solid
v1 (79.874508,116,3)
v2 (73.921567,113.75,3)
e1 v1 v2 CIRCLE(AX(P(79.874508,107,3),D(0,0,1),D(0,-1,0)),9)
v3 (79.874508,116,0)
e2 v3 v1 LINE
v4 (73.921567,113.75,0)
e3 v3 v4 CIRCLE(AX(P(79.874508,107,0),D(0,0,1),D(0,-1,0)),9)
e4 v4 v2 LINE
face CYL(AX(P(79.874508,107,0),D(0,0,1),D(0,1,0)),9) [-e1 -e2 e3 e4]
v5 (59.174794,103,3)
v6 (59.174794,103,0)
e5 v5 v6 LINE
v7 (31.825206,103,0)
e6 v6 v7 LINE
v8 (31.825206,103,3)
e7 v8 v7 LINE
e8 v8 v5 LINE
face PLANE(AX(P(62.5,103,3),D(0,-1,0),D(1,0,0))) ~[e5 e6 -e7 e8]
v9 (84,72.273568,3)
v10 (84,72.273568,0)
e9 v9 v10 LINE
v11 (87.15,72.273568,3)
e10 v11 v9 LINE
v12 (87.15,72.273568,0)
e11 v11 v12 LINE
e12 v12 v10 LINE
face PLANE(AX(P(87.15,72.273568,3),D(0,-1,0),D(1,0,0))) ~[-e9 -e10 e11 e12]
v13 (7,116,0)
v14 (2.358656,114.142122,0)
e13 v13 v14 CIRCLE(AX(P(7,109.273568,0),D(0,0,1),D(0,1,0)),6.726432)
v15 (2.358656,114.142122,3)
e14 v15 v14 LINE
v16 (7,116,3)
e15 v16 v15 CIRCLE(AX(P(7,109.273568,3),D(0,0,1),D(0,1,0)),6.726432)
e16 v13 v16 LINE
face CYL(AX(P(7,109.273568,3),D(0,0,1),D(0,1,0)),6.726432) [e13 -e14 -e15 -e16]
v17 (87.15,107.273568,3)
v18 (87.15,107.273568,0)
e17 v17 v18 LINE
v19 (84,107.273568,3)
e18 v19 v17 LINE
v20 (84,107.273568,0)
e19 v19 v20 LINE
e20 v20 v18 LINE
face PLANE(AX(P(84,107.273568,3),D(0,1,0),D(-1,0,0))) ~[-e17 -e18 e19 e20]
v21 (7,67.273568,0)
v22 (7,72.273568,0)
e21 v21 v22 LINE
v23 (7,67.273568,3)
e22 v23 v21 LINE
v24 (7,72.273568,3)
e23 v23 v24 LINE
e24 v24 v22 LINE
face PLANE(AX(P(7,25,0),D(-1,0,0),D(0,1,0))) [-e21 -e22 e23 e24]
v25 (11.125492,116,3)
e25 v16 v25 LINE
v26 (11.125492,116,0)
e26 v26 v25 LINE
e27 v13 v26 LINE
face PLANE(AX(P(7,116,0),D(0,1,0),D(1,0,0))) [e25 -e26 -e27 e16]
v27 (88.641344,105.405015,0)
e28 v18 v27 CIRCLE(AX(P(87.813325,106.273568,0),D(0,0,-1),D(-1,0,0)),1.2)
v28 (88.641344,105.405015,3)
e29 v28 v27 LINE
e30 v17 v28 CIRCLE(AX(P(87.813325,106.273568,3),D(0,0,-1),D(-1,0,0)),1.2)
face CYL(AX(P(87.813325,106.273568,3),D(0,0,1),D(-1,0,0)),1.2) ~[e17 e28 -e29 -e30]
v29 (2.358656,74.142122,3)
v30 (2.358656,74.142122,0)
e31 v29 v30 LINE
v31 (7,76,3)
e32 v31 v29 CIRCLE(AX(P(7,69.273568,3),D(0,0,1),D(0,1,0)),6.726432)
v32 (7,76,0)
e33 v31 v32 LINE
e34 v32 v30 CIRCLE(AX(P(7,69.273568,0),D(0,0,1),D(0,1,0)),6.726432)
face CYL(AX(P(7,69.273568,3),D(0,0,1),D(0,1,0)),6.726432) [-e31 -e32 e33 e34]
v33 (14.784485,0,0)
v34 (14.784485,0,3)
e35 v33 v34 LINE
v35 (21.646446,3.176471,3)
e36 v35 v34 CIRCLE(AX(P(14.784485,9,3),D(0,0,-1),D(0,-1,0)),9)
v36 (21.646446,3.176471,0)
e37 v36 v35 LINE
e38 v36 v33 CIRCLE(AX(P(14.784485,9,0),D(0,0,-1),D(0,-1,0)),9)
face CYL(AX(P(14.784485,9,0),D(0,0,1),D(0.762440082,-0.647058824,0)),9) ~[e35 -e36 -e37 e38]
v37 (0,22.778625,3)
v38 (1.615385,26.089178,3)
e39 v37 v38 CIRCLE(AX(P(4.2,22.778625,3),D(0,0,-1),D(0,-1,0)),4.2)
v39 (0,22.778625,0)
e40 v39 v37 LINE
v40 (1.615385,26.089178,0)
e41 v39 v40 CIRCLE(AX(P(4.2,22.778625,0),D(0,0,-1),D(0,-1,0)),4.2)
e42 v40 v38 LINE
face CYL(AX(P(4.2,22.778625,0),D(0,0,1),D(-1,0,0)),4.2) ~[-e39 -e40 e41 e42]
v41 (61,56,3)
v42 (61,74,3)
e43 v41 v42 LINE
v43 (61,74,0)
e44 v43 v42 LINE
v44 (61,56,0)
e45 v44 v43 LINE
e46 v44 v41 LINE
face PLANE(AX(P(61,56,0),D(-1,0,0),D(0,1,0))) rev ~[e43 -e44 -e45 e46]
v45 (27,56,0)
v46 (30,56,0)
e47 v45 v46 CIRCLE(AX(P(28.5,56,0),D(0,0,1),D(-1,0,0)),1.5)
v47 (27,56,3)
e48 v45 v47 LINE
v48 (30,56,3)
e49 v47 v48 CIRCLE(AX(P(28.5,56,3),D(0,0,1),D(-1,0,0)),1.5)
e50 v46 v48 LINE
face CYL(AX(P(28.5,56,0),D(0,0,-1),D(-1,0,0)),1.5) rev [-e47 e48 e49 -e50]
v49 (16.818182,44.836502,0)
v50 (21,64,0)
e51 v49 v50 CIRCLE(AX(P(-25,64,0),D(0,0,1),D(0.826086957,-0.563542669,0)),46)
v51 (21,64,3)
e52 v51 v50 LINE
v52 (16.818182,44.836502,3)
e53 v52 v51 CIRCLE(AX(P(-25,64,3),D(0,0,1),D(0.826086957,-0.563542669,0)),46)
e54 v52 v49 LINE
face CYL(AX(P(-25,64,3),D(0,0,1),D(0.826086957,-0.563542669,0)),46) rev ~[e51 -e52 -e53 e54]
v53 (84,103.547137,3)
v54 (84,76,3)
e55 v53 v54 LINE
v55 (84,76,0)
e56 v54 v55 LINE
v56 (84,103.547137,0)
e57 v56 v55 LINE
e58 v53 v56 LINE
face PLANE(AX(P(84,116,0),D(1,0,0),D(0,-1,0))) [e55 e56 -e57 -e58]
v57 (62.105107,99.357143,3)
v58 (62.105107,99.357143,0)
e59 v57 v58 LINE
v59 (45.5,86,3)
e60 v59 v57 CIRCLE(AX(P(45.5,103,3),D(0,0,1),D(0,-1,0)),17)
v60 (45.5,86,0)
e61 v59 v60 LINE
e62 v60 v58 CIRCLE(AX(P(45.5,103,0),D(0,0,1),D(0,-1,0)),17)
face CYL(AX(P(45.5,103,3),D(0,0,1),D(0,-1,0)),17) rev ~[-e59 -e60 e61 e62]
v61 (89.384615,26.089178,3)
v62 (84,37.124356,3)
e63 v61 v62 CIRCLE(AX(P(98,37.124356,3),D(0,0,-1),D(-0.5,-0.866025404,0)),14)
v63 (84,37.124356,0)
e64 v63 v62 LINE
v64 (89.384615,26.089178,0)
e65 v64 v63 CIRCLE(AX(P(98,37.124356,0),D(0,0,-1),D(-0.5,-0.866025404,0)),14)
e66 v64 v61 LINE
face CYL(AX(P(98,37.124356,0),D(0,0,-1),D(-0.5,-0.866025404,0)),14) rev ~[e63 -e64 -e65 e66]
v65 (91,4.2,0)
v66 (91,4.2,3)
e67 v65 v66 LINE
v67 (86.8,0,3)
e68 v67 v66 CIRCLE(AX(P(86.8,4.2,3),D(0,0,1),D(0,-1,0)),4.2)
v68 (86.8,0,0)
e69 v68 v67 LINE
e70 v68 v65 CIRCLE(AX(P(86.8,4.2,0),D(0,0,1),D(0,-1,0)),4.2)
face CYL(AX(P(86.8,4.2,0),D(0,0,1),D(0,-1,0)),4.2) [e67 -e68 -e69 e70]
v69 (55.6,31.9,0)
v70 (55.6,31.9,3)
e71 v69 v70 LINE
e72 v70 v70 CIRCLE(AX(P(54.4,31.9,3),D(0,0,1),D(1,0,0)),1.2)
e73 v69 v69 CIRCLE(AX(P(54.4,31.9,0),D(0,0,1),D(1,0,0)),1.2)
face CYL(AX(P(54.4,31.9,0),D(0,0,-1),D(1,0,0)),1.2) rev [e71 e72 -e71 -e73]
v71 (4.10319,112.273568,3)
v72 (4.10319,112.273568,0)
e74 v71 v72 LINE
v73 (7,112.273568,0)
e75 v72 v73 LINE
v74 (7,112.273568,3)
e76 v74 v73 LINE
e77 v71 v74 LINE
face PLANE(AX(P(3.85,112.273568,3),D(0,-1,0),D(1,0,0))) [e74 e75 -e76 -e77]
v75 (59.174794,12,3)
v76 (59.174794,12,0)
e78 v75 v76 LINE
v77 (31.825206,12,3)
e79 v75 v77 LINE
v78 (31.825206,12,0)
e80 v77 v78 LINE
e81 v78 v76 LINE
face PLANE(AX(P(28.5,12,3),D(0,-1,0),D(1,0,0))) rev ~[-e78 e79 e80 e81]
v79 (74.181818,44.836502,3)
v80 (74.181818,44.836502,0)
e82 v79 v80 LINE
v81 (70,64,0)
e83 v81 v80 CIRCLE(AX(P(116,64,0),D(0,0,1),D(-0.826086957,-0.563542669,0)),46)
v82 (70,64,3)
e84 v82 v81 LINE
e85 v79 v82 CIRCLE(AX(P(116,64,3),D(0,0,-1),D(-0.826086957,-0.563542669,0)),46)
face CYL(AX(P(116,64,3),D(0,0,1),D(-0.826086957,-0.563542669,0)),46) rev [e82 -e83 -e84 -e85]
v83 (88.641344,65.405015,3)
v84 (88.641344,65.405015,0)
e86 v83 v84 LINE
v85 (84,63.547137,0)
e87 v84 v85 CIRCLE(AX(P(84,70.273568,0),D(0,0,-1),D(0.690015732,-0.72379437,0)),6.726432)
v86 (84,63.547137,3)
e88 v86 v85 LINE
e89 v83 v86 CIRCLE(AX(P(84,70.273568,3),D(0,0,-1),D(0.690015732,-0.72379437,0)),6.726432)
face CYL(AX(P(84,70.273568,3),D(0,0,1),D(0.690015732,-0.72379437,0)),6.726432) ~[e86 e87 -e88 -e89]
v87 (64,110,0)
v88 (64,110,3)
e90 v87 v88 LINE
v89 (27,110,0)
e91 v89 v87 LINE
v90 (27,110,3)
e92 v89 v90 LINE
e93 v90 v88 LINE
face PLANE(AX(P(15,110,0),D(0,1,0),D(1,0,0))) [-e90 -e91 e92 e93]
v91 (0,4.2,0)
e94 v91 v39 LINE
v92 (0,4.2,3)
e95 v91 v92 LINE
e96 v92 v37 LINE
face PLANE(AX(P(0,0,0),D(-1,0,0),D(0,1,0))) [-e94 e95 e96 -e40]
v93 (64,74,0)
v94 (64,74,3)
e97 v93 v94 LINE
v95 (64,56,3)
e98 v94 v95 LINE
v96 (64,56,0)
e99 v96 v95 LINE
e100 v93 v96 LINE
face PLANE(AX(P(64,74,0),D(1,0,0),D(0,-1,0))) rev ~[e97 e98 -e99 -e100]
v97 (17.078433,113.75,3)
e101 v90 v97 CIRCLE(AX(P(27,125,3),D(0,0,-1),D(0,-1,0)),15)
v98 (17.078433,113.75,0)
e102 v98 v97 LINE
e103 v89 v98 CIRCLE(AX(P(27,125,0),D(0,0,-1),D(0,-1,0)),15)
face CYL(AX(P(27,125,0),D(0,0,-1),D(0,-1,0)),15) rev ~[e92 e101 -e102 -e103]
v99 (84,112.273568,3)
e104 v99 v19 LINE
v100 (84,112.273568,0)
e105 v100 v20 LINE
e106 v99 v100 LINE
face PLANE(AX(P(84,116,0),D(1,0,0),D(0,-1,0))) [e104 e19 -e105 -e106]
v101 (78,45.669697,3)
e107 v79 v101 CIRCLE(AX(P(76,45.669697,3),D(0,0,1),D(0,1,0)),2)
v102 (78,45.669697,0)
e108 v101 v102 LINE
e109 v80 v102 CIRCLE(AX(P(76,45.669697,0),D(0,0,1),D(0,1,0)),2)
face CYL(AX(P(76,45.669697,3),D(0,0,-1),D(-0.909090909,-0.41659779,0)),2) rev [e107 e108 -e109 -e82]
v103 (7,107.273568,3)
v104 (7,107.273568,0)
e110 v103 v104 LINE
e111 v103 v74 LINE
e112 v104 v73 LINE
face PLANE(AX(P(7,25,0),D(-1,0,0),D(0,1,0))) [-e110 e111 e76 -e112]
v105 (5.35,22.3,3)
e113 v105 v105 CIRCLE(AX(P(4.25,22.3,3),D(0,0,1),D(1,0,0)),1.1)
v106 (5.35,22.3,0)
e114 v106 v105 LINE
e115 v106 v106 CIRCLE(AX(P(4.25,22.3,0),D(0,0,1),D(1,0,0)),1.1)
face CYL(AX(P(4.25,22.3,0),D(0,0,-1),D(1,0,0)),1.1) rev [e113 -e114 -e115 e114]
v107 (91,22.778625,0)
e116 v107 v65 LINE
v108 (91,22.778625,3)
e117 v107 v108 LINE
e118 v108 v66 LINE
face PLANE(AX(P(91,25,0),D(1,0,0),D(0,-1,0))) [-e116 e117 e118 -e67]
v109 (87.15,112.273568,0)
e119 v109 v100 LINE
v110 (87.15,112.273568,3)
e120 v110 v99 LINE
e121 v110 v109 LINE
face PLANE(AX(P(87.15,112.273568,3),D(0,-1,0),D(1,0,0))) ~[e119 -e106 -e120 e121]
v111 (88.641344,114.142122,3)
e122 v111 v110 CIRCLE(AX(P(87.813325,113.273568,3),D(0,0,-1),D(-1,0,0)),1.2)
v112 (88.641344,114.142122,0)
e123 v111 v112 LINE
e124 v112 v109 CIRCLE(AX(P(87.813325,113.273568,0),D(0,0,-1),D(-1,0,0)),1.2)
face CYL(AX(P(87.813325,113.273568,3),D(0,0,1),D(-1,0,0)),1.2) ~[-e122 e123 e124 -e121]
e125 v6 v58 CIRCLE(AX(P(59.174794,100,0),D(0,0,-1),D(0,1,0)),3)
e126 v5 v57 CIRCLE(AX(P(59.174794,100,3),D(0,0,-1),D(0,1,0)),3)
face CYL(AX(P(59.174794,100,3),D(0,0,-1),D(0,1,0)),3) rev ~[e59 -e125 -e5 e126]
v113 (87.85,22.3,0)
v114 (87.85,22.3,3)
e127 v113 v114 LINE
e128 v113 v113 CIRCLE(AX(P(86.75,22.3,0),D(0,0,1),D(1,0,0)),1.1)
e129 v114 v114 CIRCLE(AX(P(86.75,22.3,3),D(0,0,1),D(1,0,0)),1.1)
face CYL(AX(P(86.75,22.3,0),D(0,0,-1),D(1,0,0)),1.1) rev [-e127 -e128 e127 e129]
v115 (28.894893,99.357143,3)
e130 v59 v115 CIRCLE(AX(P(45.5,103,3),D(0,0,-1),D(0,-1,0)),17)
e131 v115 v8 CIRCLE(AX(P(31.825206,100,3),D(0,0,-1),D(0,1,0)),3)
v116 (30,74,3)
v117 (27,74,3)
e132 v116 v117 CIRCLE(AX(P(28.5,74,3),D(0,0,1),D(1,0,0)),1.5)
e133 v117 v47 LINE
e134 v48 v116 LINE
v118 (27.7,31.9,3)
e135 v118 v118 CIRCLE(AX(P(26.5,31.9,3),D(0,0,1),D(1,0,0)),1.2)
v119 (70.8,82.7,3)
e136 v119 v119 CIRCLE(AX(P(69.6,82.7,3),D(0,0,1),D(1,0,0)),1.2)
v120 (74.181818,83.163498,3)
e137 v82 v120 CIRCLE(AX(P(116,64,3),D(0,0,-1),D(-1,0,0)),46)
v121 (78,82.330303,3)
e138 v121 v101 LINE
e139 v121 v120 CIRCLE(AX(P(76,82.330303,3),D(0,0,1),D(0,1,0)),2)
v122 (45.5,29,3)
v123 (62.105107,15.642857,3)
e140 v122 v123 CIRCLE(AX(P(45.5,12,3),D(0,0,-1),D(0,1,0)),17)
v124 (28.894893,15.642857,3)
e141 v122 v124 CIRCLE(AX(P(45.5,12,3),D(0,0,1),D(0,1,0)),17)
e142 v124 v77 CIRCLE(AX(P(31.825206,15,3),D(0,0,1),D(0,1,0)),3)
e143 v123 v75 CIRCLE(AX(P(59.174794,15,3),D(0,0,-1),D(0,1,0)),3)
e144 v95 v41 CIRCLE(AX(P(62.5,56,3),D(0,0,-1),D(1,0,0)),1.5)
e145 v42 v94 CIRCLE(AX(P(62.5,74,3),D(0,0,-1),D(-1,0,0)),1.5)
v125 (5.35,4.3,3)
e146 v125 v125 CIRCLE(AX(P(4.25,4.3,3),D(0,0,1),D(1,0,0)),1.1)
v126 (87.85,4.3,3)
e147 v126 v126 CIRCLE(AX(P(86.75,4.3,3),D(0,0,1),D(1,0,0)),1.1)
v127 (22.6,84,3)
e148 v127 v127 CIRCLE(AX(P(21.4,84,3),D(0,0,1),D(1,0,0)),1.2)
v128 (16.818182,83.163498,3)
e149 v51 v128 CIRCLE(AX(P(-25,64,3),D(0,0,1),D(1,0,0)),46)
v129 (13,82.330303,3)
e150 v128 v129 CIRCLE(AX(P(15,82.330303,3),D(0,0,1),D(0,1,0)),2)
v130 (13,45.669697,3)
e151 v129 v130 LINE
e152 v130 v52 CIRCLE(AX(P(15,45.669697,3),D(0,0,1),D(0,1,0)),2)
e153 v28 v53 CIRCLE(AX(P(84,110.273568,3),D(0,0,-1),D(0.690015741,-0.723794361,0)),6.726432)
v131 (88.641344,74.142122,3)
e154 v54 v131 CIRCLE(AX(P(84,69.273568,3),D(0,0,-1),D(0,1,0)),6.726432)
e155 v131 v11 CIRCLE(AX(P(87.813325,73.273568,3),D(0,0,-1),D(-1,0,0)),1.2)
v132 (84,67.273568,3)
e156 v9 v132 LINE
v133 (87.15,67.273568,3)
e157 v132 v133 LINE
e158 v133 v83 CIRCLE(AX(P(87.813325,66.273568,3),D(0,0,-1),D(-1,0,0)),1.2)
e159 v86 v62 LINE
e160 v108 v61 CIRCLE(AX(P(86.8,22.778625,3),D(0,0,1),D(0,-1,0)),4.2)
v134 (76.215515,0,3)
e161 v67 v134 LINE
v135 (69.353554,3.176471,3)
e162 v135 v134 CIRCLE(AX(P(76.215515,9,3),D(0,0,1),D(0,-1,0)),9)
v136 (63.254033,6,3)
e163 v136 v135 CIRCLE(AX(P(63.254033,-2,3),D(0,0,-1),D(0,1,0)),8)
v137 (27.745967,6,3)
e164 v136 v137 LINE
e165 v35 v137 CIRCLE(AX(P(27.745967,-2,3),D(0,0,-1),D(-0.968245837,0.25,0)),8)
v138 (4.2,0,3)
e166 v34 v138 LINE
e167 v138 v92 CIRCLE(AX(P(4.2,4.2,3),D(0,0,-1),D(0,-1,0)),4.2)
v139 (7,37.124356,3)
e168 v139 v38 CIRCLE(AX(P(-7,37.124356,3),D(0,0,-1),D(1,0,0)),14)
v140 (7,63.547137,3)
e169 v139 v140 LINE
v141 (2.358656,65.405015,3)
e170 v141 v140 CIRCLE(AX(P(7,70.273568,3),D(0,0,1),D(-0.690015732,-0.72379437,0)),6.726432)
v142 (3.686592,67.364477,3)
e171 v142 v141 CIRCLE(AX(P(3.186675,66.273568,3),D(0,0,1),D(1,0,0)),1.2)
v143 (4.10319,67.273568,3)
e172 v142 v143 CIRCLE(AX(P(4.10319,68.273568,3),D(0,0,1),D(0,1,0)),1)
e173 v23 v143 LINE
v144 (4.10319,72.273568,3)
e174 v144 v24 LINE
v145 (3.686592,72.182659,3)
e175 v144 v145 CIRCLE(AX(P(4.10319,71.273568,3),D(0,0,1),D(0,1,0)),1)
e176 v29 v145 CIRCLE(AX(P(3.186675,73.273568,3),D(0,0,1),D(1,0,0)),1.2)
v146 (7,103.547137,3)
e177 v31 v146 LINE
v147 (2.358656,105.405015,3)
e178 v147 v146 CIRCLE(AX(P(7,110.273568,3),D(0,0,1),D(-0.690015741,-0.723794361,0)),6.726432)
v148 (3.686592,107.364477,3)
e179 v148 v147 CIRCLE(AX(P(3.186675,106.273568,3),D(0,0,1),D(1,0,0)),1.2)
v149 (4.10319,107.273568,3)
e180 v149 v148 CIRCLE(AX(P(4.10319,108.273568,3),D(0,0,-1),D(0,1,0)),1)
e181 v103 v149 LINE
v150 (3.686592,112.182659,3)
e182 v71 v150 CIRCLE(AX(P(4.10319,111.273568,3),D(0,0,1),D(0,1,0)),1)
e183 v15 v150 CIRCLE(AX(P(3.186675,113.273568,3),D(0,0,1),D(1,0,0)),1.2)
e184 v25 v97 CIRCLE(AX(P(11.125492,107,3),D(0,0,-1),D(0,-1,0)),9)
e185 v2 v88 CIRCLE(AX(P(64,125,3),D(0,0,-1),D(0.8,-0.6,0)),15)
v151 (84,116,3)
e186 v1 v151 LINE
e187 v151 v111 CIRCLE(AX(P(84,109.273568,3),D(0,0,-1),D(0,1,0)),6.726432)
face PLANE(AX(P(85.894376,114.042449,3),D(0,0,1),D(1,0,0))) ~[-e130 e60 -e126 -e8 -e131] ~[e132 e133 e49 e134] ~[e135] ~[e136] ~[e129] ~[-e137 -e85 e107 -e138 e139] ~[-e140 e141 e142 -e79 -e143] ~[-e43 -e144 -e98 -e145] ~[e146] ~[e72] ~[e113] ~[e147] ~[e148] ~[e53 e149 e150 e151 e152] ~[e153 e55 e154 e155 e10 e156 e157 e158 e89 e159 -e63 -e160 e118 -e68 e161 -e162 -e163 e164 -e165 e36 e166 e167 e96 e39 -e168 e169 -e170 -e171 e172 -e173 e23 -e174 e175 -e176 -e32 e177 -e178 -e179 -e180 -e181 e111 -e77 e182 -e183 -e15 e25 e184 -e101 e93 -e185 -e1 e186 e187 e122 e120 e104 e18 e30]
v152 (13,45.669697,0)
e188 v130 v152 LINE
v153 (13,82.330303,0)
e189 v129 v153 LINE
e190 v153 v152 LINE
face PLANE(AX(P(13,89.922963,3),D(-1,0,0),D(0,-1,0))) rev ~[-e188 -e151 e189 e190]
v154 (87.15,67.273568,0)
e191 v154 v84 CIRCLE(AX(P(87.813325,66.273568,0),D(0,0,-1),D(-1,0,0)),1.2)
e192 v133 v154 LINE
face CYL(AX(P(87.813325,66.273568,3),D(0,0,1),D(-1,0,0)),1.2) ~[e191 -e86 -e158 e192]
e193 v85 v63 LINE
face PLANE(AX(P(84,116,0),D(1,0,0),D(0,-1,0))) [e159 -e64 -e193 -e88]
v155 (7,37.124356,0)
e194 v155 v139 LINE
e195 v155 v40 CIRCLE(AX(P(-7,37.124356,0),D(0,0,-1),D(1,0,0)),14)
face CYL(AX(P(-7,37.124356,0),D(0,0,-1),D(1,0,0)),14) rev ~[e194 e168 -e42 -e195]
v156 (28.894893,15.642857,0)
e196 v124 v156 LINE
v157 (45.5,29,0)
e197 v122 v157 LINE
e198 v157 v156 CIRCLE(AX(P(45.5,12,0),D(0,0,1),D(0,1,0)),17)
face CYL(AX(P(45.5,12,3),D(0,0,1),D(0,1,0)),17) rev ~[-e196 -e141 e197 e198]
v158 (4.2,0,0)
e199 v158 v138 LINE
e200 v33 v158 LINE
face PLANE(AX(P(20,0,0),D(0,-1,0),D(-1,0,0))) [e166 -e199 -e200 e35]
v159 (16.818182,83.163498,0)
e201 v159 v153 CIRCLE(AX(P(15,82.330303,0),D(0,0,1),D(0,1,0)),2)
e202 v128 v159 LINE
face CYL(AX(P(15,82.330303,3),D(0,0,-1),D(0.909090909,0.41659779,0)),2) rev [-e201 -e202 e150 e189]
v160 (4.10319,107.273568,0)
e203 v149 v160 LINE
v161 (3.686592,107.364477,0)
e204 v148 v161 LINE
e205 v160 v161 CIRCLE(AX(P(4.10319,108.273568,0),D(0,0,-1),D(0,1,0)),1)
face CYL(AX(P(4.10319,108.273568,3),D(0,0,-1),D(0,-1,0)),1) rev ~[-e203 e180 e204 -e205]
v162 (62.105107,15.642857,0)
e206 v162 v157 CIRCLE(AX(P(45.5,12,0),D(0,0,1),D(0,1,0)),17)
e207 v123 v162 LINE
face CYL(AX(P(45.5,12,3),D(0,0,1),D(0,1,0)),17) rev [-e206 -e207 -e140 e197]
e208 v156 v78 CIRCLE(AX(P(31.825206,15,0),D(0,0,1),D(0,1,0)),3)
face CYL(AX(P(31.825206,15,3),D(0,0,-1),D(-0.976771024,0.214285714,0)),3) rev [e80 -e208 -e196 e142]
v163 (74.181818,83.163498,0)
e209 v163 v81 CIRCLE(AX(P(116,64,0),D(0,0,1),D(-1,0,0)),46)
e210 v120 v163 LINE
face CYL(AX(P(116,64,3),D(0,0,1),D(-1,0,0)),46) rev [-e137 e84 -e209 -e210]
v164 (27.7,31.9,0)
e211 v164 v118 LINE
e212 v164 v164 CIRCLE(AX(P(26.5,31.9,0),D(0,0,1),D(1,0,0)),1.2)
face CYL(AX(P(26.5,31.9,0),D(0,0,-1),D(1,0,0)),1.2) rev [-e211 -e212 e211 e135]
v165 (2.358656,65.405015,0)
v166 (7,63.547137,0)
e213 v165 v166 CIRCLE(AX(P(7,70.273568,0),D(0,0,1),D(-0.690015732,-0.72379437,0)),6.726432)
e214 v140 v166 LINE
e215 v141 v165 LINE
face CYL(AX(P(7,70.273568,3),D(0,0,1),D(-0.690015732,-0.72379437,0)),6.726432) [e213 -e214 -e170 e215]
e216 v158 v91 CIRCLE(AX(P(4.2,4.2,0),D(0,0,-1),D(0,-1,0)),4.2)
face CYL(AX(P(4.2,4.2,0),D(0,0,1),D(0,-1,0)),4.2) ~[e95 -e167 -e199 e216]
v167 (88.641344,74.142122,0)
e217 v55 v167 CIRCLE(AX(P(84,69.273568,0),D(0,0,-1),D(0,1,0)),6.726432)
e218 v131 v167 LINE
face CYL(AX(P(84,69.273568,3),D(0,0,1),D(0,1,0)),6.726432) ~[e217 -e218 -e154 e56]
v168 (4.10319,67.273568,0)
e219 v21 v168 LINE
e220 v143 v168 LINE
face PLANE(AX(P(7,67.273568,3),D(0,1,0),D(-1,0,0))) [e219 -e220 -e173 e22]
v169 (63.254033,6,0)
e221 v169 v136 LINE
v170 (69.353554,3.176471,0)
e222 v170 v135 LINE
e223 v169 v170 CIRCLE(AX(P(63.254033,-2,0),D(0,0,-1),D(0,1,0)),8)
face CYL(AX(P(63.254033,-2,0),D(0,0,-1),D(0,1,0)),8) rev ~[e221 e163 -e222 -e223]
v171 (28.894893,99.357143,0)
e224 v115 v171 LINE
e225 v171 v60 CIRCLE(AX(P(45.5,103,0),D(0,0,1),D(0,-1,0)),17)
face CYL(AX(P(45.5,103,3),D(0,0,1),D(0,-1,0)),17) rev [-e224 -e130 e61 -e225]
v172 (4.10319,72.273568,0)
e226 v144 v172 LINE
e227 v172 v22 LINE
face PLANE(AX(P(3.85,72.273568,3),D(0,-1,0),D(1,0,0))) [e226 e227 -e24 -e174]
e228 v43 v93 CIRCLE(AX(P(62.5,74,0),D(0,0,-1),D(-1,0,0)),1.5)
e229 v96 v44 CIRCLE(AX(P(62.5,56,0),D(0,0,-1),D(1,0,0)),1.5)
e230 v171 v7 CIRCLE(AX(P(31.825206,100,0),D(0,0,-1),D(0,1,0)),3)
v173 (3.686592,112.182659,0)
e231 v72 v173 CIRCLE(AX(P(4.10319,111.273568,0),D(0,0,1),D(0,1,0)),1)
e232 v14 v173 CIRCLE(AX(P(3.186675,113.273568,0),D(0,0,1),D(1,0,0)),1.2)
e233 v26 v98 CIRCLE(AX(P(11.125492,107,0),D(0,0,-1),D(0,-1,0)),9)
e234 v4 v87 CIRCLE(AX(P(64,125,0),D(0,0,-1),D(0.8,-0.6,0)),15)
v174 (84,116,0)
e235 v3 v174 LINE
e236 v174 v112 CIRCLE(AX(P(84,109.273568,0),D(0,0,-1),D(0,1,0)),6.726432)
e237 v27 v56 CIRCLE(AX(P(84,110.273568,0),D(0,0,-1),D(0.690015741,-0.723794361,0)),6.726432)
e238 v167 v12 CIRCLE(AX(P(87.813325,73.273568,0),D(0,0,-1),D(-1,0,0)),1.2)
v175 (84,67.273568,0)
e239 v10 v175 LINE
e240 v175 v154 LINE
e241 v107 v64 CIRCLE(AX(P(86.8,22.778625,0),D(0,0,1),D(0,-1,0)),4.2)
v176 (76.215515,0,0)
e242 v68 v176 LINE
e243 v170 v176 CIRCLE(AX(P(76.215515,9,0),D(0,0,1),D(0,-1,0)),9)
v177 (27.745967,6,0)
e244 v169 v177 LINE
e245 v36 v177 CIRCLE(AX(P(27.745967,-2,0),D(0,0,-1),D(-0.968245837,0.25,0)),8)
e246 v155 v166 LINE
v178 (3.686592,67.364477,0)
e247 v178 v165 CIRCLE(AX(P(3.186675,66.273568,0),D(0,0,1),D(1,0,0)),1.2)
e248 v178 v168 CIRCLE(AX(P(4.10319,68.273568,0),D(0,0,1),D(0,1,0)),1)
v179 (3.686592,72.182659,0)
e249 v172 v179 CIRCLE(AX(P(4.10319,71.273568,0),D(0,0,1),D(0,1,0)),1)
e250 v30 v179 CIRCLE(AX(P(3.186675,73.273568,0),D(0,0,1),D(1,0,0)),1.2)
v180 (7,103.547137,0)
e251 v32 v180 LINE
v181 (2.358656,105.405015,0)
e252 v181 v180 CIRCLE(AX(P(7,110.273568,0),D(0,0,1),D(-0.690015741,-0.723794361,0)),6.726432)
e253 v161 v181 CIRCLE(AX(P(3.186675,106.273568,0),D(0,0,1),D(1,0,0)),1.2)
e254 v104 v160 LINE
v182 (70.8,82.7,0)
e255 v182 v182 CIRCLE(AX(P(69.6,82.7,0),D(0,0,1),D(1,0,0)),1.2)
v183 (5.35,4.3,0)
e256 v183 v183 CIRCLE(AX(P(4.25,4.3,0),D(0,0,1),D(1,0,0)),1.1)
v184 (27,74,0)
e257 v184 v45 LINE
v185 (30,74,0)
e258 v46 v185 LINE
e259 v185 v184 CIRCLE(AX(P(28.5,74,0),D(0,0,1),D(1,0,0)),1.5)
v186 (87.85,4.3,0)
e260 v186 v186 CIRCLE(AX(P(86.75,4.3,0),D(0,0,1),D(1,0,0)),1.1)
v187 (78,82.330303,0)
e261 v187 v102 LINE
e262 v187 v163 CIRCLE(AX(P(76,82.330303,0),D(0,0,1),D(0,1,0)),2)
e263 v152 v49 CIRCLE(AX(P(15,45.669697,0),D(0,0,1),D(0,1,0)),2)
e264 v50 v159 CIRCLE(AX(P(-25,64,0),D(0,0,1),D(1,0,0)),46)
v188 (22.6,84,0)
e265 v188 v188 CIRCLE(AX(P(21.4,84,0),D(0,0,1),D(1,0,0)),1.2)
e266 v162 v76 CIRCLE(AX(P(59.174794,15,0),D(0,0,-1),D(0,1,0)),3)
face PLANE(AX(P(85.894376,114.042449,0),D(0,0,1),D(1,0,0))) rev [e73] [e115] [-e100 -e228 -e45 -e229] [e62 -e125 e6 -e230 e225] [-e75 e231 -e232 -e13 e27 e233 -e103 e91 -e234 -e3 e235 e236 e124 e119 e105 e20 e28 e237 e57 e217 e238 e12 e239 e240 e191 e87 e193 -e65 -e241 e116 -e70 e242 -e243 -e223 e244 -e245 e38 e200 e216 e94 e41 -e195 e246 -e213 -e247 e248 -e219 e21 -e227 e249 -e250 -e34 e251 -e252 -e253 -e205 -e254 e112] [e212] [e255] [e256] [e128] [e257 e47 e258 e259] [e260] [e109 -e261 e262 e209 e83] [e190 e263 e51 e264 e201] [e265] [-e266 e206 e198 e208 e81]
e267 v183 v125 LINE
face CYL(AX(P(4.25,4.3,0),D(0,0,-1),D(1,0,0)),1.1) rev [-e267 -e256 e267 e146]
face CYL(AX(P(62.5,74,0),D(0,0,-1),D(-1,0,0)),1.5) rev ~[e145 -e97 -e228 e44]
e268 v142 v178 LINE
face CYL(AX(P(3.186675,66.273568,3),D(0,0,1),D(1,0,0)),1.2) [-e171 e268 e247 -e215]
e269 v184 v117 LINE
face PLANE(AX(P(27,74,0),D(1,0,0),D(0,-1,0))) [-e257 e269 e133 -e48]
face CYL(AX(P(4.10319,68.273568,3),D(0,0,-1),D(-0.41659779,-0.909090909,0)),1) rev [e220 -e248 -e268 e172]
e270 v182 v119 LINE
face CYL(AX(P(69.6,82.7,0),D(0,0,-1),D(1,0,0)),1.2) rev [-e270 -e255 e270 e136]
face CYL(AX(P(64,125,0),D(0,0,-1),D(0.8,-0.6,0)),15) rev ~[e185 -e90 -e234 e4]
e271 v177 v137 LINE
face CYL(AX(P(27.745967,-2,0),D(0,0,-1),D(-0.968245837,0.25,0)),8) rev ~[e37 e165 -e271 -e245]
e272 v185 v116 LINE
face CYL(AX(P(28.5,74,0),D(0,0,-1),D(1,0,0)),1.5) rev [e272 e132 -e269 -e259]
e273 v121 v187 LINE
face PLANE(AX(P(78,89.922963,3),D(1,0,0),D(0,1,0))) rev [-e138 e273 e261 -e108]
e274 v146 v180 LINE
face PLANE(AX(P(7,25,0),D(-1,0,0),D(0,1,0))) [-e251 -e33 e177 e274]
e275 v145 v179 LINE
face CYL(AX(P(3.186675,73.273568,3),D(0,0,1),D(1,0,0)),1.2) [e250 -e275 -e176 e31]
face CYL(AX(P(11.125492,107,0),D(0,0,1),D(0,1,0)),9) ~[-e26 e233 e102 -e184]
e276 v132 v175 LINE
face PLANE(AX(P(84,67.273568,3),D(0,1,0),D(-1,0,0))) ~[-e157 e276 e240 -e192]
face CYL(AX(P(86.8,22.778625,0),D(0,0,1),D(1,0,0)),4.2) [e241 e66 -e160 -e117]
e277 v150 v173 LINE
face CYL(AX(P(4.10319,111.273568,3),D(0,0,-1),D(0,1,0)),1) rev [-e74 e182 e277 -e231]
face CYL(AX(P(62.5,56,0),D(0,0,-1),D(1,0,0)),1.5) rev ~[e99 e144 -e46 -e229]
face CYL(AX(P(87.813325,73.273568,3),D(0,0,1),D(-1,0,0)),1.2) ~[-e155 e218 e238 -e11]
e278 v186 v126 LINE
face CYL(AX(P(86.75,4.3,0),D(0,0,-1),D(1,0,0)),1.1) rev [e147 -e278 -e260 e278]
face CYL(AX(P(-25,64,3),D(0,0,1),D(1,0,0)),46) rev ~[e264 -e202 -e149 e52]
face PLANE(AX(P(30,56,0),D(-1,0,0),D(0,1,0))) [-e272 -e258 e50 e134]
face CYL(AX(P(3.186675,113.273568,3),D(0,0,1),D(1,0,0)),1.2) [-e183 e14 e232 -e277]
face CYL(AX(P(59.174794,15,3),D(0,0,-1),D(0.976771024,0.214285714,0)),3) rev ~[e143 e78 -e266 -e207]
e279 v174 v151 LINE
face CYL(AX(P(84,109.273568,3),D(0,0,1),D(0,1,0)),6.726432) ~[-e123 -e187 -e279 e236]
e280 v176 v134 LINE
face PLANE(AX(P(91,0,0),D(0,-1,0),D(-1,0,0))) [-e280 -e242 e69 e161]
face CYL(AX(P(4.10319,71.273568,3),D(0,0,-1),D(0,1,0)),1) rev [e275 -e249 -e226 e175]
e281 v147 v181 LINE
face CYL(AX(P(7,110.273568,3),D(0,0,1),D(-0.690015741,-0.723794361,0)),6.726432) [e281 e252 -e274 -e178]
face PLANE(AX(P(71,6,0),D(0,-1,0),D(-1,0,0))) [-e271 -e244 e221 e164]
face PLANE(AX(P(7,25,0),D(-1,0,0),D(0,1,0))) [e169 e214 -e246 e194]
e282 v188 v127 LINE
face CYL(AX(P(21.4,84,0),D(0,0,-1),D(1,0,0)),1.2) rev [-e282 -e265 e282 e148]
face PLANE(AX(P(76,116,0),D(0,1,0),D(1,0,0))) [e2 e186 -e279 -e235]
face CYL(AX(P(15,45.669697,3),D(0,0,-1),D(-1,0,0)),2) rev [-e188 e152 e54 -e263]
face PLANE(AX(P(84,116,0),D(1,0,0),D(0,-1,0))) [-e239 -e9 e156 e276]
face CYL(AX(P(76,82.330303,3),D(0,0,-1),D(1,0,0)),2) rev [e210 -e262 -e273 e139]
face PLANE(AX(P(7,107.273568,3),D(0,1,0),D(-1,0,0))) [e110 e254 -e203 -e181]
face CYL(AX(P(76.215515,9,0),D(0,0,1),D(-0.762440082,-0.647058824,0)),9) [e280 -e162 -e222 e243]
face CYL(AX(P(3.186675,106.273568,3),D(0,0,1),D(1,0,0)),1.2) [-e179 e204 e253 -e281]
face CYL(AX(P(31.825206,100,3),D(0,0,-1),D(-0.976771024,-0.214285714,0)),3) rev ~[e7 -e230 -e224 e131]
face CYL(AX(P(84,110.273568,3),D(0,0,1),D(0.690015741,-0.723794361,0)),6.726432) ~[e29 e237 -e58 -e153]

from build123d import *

# Parameters (mm, degrees)
SKETCH2_R            = 1.1
SKETCH2_R_2          = 1.2
BOSS_EXTRUDE4_DEPTH  = 3
FILLET2_R            = 9
FILLET3_R            = 4.2
CUT_EXTRUDE1_DEPTH   = 17
FILLET4_R            = 3
FILLET5_R            = 2
SKETCH6_R            = 1.2
BOSS_EXTRUDE6_DEPTH  = 3
FILLET6_R            = 1
FILLET4_OF_MIRROR1_R = 3
FILLET5_OF_MIRROR1_R = 2


with BuildPart() as part:
    # Sketch2 → Boss-Extrude4 (new body)
    # profile 1 of 7: a face of its own
    with BuildSketch(Plane.XY):
        with BuildLine():
            ThreePointArc((27, 110), (20.291796068, 111.583592135), (15, 116))
            Line((15, 116), (15, 110))
            Line((15, 110), (27, 110))
        make_face()
    # profile 2 of 7: a face of its own
    with BuildSketch(Plane.XY):
        with BuildLine():
            ThreePointArc((76, 116), (70.708203932, 111.583592135), (64, 110))
            Line((64, 110), (76, 110))
            Line((76, 110), (76, 116))
        make_face()
    # profile 3 of 7: a face of its own
    with BuildSketch(Plane.XY):
        Polygon((20, 0), (0, 0), (0, 25), (7, 25), (7, 116), (15, 116), (15, 110), (76, 110), (76, 116), (84, 116), (84, 25), (91, 25), (91, 0), (71, 0), (71, 6), (20, 6), align=None)
        with Locations((86.75, 22.3)):
            Circle(SKETCH2_R, mode=Mode.SUBTRACT)
        with Locations((21.4, 84)):
            Circle(SKETCH2_R_2, mode=Mode.SUBTRACT)
        with Locations((69.6, 82.7)):
            Circle(SKETCH2_R_2, mode=Mode.SUBTRACT)
        with Locations((54.4, 31.9)):
            Circle(SKETCH2_R_2, mode=Mode.SUBTRACT)
        with Locations((26.5, 31.9)):
            Circle(SKETCH2_R_2, mode=Mode.SUBTRACT)
        with Locations((4.25, 22.3)):
            Circle(SKETCH2_R, mode=Mode.SUBTRACT)
        with Locations((4.25, 4.3)):
            Circle(SKETCH2_R, mode=Mode.SUBTRACT)
        with Locations((86.75, 4.3)):
            Circle(SKETCH2_R, mode=Mode.SUBTRACT)
        with BuildLine():
            ThreePointArc((30, 74), (28.5, 75.5), (27, 74))
            Line((27, 74), (27, 56))
            ThreePointArc((27, 56), (28.5, 54.5), (30, 56))
            Line((30, 56), (30, 74))
        make_face(mode=Mode.SUBTRACT)
        with BuildLine():
            Line((61, 56), (61, 74))
            ThreePointArc((61, 74), (62.5, 75.5), (64, 74))
            Line((64, 74), (64, 56))
            ThreePointArc((64, 56), (62.5, 54.5), (61, 56))
        make_face(mode=Mode.SUBTRACT)
    # profile 4 of 7: a face of its own
    with BuildSketch(Plane.XY):
        with BuildLine():
            ThreePointArc((7, 37.124355653), (5.124355653, 30.124355653), (0, 25))
            Line((0, 25), (7, 25))
            Line((7, 25), (7, 37.124355653))
        make_face()
    # profile 5 of 7: a face of its own
    with BuildSketch(Plane.XY):
        with BuildLine():
            Line((84, 25), (91, 25))
            ThreePointArc((91, 25), (85.875644326, 30.124355689), (84, 37.124355736))
            Line((84, 37.124355736), (84, 25))
        make_face()
    # profile 6 of 7: a face of its own
    with BuildSketch(Plane.XY):
        with BuildLine():
            Line((71, 6), (63.254033308, 6))
            ThreePointArc((63.254033308, 6), (68.153012793, 4.32455532), (71, 0))
            Line((71, 0), (71, 6))
        make_face()
    # profile 7 of 7: a face of its own
    with BuildSketch(Plane.XY):
        with BuildLine():
            Line((20, 6), (20, 0))
            ThreePointArc((20, 0), (22.846987207, 4.32455532), (27.745966692, 6))
            Line((27.745966692, 6), (20, 6))
        make_face()
    extrude(amount=BOSS_EXTRUDE4_DEPTH)

    # Fillet2
    fillet2_edges = [part.edges().sort_by_distance(p)[0] for p in [
        (15, 116, 1.5),
        (76, 116, 1.5),
        (71, 0, 1.5),
        (20, 0, 1.5),
    ]]
    fillet(fillet2_edges, radius=FILLET2_R)

    # Fillet3
    fillet3_edges = [part.edges().sort_by_distance(p)[0] for p in [
        (0, 0, 1.5),
        (0, 25, 1.5),
        (91, 25, 1.5),
        (91, 0, 1.5),
    ]]
    fillet(fillet3_edges, radius=FILLET3_R)

    # Sketch3 → Cut-Extrude1 (cut)
    with BuildSketch(Plane.XY.offset(3)):
        with BuildLine():
            ThreePointArc((21, 64), (18.954521952, 77.564659966), (13, 89.922962794))
            Line((13, 89.922962794), (13, 38.077037206))
            ThreePointArc((13, 38.077037206), (18.954521952, 50.435340034), (21, 64))
        make_face()
        with BuildLine():
            Line((28.5, 103), (45.5, 103))
            Line((45.5, 103), (45.5, 86))
            ThreePointArc((45.5, 86), (33.47918472, 90.97918472), (28.5, 103))
        make_face()
        with BuildLine():
            Line((45.5, 12), (45.5, 29))
            ThreePointArc((45.5, 29), (33.47918472, 24.02081528), (28.5, 12))
            Line((28.5, 12), (45.5, 12))
        make_face()
    cut_extrude1 = extrude(amount=-CUT_EXTRUDE1_DEPTH, mode=Mode.SUBTRACT)

    # Fillet4
    fillet4_edges = [part.edges().sort_by_distance(p)[0] for p in [
        (28.5, 103, 1.5),
        (28.5, 12, 1.5),
    ]]
    fillet(fillet4_edges, radius=FILLET4_R)

    # Fillet5
    fillet5_edges = [part.edges().sort_by_distance(p)[0] for p in [
        (13, 38.077037206, 1.5),
        (13, 89.922962794, 1.5),
    ]]
    fillet(fillet5_edges, radius=FILLET5_R)

    # Sketch6 → Boss-Extrude6 (add)
    with BuildSketch(Plane.XY.offset(3)):
        with BuildLine():
            ThreePointArc((4.386675042, 113.273568309), (4.244027857, 112.706113443), (3.85, 112.273568309))
            Line((3.85, 112.273568309), (7, 112.273568309))
            Line((7, 112.273568309), (7, 116))
            ThreePointArc((7, 116), (4.500310829, 115.51828106), (2.358656251, 114.142121636))
            ThreePointArc((2.358656251, 114.142121636), (3.659103582, 114.376659998), (4.386675042, 113.273568309))
        make_face()
        with Locations((3.186675042, 113.273568309)):
            Circle(SKETCH6_R)
        with Locations((3.186675042, 106.273568309)):
            Circle(SKETCH6_R)
        with BuildLine():
            ThreePointArc((4.386675042, 106.273568309), (3.659103582, 105.17047662), (2.358656251, 105.405014982))
            ThreePointArc((2.358656251, 105.405014982), (4.500310829, 104.028855558), (7, 103.547136618))
            Line((7, 103.547136618), (7, 107.273568309))
            Line((7, 107.273568309), (3.85, 107.273568309))
            ThreePointArc((3.85, 107.273568309), (4.244027857, 106.841023175), (4.386675042, 106.273568309))
        make_face()
        with Locations((3.186675042, 73.273568309)):
            Circle(SKETCH6_R)
        with BuildLine():
            ThreePointArc((4.386675042, 73.273568309), (4.244027857, 72.706113443), (3.85, 72.273568309))
            Line((3.85, 72.273568309), (7, 72.273568309))
            Line((7, 72.273568309), (7, 76))
            ThreePointArc((7, 76), (4.500310865, 75.518281074), (2.358656308, 74.14212169))
            ThreePointArc((2.358656308, 74.14212169), (3.659103618, 74.376659983), (4.386675042, 73.273568309))
        make_face()
        with Locations((3.186675042, 66.273568309)):
            Circle(SKETCH6_R)
        with BuildLine():
            ThreePointArc((4.386675042, 66.273568309), (3.659103622, 65.170476637), (2.358656313, 65.405014923))
            ThreePointArc((2.358656313, 65.405014923), (4.500310869, 64.028855542), (7, 63.547136618))
            Line((7, 63.547136618), (7, 67.273568309))
            Line((7, 67.273568309), (3.85, 67.273568309))
            ThreePointArc((3.85, 67.273568309), (4.244027857, 66.841023175), (4.386675042, 66.273568309))
        make_face()
    boss_extrude6 = extrude(amount=-BOSS_EXTRUDE6_DEPTH)

    # Fillet6
    fillet6_edges = [part.edges().sort_by_distance(p)[0] for p in [
        (3.85, 112.273568309, 1.5),
        (3.85, 107.273568309, 1.5),
        (3.85, 72.273568309, 1.5),
        (3.85, 67.273568309, 1.5),
    ]]
    fillet(fillet6_edges, radius=FILLET6_R)

    # Mirror1: Cut-Extrude1, Boss-Extrude6 across plane
    add(cut_extrude1.mirror(Plane(origin=(45.5, 0, -14), x_dir=(0, 0, 1), z_dir=(-1, 0, 0))), mode=Mode.SUBTRACT)
    add(boss_extrude6.mirror(Plane(origin=(45.5, 0, -14), x_dir=(0, 0, 1), z_dir=(-1, 0, 0))))

    # Fillet4 of Mirror1
    fillet4_of_mirror1_edges = [part.edges().sort_by_distance(p)[0] for p in [
        (62.5, 103, 1.5),
        (62.5, 12, 1.5),
    ]]
    fillet(fillet4_of_mirror1_edges, radius=FILLET4_OF_MIRROR1_R)

    # Fillet5 of Mirror1
    fillet5_of_mirror1_edges = [part.edges().sort_by_distance(p)[0] for p in [
        (78, 38.077037206, 1.5),
        (78, 89.922962794, 1.5),
    ]]
    fillet(fillet5_of_mirror1_edges, radius=FILLET5_OF_MIRROR1_R)


solid = part.part
